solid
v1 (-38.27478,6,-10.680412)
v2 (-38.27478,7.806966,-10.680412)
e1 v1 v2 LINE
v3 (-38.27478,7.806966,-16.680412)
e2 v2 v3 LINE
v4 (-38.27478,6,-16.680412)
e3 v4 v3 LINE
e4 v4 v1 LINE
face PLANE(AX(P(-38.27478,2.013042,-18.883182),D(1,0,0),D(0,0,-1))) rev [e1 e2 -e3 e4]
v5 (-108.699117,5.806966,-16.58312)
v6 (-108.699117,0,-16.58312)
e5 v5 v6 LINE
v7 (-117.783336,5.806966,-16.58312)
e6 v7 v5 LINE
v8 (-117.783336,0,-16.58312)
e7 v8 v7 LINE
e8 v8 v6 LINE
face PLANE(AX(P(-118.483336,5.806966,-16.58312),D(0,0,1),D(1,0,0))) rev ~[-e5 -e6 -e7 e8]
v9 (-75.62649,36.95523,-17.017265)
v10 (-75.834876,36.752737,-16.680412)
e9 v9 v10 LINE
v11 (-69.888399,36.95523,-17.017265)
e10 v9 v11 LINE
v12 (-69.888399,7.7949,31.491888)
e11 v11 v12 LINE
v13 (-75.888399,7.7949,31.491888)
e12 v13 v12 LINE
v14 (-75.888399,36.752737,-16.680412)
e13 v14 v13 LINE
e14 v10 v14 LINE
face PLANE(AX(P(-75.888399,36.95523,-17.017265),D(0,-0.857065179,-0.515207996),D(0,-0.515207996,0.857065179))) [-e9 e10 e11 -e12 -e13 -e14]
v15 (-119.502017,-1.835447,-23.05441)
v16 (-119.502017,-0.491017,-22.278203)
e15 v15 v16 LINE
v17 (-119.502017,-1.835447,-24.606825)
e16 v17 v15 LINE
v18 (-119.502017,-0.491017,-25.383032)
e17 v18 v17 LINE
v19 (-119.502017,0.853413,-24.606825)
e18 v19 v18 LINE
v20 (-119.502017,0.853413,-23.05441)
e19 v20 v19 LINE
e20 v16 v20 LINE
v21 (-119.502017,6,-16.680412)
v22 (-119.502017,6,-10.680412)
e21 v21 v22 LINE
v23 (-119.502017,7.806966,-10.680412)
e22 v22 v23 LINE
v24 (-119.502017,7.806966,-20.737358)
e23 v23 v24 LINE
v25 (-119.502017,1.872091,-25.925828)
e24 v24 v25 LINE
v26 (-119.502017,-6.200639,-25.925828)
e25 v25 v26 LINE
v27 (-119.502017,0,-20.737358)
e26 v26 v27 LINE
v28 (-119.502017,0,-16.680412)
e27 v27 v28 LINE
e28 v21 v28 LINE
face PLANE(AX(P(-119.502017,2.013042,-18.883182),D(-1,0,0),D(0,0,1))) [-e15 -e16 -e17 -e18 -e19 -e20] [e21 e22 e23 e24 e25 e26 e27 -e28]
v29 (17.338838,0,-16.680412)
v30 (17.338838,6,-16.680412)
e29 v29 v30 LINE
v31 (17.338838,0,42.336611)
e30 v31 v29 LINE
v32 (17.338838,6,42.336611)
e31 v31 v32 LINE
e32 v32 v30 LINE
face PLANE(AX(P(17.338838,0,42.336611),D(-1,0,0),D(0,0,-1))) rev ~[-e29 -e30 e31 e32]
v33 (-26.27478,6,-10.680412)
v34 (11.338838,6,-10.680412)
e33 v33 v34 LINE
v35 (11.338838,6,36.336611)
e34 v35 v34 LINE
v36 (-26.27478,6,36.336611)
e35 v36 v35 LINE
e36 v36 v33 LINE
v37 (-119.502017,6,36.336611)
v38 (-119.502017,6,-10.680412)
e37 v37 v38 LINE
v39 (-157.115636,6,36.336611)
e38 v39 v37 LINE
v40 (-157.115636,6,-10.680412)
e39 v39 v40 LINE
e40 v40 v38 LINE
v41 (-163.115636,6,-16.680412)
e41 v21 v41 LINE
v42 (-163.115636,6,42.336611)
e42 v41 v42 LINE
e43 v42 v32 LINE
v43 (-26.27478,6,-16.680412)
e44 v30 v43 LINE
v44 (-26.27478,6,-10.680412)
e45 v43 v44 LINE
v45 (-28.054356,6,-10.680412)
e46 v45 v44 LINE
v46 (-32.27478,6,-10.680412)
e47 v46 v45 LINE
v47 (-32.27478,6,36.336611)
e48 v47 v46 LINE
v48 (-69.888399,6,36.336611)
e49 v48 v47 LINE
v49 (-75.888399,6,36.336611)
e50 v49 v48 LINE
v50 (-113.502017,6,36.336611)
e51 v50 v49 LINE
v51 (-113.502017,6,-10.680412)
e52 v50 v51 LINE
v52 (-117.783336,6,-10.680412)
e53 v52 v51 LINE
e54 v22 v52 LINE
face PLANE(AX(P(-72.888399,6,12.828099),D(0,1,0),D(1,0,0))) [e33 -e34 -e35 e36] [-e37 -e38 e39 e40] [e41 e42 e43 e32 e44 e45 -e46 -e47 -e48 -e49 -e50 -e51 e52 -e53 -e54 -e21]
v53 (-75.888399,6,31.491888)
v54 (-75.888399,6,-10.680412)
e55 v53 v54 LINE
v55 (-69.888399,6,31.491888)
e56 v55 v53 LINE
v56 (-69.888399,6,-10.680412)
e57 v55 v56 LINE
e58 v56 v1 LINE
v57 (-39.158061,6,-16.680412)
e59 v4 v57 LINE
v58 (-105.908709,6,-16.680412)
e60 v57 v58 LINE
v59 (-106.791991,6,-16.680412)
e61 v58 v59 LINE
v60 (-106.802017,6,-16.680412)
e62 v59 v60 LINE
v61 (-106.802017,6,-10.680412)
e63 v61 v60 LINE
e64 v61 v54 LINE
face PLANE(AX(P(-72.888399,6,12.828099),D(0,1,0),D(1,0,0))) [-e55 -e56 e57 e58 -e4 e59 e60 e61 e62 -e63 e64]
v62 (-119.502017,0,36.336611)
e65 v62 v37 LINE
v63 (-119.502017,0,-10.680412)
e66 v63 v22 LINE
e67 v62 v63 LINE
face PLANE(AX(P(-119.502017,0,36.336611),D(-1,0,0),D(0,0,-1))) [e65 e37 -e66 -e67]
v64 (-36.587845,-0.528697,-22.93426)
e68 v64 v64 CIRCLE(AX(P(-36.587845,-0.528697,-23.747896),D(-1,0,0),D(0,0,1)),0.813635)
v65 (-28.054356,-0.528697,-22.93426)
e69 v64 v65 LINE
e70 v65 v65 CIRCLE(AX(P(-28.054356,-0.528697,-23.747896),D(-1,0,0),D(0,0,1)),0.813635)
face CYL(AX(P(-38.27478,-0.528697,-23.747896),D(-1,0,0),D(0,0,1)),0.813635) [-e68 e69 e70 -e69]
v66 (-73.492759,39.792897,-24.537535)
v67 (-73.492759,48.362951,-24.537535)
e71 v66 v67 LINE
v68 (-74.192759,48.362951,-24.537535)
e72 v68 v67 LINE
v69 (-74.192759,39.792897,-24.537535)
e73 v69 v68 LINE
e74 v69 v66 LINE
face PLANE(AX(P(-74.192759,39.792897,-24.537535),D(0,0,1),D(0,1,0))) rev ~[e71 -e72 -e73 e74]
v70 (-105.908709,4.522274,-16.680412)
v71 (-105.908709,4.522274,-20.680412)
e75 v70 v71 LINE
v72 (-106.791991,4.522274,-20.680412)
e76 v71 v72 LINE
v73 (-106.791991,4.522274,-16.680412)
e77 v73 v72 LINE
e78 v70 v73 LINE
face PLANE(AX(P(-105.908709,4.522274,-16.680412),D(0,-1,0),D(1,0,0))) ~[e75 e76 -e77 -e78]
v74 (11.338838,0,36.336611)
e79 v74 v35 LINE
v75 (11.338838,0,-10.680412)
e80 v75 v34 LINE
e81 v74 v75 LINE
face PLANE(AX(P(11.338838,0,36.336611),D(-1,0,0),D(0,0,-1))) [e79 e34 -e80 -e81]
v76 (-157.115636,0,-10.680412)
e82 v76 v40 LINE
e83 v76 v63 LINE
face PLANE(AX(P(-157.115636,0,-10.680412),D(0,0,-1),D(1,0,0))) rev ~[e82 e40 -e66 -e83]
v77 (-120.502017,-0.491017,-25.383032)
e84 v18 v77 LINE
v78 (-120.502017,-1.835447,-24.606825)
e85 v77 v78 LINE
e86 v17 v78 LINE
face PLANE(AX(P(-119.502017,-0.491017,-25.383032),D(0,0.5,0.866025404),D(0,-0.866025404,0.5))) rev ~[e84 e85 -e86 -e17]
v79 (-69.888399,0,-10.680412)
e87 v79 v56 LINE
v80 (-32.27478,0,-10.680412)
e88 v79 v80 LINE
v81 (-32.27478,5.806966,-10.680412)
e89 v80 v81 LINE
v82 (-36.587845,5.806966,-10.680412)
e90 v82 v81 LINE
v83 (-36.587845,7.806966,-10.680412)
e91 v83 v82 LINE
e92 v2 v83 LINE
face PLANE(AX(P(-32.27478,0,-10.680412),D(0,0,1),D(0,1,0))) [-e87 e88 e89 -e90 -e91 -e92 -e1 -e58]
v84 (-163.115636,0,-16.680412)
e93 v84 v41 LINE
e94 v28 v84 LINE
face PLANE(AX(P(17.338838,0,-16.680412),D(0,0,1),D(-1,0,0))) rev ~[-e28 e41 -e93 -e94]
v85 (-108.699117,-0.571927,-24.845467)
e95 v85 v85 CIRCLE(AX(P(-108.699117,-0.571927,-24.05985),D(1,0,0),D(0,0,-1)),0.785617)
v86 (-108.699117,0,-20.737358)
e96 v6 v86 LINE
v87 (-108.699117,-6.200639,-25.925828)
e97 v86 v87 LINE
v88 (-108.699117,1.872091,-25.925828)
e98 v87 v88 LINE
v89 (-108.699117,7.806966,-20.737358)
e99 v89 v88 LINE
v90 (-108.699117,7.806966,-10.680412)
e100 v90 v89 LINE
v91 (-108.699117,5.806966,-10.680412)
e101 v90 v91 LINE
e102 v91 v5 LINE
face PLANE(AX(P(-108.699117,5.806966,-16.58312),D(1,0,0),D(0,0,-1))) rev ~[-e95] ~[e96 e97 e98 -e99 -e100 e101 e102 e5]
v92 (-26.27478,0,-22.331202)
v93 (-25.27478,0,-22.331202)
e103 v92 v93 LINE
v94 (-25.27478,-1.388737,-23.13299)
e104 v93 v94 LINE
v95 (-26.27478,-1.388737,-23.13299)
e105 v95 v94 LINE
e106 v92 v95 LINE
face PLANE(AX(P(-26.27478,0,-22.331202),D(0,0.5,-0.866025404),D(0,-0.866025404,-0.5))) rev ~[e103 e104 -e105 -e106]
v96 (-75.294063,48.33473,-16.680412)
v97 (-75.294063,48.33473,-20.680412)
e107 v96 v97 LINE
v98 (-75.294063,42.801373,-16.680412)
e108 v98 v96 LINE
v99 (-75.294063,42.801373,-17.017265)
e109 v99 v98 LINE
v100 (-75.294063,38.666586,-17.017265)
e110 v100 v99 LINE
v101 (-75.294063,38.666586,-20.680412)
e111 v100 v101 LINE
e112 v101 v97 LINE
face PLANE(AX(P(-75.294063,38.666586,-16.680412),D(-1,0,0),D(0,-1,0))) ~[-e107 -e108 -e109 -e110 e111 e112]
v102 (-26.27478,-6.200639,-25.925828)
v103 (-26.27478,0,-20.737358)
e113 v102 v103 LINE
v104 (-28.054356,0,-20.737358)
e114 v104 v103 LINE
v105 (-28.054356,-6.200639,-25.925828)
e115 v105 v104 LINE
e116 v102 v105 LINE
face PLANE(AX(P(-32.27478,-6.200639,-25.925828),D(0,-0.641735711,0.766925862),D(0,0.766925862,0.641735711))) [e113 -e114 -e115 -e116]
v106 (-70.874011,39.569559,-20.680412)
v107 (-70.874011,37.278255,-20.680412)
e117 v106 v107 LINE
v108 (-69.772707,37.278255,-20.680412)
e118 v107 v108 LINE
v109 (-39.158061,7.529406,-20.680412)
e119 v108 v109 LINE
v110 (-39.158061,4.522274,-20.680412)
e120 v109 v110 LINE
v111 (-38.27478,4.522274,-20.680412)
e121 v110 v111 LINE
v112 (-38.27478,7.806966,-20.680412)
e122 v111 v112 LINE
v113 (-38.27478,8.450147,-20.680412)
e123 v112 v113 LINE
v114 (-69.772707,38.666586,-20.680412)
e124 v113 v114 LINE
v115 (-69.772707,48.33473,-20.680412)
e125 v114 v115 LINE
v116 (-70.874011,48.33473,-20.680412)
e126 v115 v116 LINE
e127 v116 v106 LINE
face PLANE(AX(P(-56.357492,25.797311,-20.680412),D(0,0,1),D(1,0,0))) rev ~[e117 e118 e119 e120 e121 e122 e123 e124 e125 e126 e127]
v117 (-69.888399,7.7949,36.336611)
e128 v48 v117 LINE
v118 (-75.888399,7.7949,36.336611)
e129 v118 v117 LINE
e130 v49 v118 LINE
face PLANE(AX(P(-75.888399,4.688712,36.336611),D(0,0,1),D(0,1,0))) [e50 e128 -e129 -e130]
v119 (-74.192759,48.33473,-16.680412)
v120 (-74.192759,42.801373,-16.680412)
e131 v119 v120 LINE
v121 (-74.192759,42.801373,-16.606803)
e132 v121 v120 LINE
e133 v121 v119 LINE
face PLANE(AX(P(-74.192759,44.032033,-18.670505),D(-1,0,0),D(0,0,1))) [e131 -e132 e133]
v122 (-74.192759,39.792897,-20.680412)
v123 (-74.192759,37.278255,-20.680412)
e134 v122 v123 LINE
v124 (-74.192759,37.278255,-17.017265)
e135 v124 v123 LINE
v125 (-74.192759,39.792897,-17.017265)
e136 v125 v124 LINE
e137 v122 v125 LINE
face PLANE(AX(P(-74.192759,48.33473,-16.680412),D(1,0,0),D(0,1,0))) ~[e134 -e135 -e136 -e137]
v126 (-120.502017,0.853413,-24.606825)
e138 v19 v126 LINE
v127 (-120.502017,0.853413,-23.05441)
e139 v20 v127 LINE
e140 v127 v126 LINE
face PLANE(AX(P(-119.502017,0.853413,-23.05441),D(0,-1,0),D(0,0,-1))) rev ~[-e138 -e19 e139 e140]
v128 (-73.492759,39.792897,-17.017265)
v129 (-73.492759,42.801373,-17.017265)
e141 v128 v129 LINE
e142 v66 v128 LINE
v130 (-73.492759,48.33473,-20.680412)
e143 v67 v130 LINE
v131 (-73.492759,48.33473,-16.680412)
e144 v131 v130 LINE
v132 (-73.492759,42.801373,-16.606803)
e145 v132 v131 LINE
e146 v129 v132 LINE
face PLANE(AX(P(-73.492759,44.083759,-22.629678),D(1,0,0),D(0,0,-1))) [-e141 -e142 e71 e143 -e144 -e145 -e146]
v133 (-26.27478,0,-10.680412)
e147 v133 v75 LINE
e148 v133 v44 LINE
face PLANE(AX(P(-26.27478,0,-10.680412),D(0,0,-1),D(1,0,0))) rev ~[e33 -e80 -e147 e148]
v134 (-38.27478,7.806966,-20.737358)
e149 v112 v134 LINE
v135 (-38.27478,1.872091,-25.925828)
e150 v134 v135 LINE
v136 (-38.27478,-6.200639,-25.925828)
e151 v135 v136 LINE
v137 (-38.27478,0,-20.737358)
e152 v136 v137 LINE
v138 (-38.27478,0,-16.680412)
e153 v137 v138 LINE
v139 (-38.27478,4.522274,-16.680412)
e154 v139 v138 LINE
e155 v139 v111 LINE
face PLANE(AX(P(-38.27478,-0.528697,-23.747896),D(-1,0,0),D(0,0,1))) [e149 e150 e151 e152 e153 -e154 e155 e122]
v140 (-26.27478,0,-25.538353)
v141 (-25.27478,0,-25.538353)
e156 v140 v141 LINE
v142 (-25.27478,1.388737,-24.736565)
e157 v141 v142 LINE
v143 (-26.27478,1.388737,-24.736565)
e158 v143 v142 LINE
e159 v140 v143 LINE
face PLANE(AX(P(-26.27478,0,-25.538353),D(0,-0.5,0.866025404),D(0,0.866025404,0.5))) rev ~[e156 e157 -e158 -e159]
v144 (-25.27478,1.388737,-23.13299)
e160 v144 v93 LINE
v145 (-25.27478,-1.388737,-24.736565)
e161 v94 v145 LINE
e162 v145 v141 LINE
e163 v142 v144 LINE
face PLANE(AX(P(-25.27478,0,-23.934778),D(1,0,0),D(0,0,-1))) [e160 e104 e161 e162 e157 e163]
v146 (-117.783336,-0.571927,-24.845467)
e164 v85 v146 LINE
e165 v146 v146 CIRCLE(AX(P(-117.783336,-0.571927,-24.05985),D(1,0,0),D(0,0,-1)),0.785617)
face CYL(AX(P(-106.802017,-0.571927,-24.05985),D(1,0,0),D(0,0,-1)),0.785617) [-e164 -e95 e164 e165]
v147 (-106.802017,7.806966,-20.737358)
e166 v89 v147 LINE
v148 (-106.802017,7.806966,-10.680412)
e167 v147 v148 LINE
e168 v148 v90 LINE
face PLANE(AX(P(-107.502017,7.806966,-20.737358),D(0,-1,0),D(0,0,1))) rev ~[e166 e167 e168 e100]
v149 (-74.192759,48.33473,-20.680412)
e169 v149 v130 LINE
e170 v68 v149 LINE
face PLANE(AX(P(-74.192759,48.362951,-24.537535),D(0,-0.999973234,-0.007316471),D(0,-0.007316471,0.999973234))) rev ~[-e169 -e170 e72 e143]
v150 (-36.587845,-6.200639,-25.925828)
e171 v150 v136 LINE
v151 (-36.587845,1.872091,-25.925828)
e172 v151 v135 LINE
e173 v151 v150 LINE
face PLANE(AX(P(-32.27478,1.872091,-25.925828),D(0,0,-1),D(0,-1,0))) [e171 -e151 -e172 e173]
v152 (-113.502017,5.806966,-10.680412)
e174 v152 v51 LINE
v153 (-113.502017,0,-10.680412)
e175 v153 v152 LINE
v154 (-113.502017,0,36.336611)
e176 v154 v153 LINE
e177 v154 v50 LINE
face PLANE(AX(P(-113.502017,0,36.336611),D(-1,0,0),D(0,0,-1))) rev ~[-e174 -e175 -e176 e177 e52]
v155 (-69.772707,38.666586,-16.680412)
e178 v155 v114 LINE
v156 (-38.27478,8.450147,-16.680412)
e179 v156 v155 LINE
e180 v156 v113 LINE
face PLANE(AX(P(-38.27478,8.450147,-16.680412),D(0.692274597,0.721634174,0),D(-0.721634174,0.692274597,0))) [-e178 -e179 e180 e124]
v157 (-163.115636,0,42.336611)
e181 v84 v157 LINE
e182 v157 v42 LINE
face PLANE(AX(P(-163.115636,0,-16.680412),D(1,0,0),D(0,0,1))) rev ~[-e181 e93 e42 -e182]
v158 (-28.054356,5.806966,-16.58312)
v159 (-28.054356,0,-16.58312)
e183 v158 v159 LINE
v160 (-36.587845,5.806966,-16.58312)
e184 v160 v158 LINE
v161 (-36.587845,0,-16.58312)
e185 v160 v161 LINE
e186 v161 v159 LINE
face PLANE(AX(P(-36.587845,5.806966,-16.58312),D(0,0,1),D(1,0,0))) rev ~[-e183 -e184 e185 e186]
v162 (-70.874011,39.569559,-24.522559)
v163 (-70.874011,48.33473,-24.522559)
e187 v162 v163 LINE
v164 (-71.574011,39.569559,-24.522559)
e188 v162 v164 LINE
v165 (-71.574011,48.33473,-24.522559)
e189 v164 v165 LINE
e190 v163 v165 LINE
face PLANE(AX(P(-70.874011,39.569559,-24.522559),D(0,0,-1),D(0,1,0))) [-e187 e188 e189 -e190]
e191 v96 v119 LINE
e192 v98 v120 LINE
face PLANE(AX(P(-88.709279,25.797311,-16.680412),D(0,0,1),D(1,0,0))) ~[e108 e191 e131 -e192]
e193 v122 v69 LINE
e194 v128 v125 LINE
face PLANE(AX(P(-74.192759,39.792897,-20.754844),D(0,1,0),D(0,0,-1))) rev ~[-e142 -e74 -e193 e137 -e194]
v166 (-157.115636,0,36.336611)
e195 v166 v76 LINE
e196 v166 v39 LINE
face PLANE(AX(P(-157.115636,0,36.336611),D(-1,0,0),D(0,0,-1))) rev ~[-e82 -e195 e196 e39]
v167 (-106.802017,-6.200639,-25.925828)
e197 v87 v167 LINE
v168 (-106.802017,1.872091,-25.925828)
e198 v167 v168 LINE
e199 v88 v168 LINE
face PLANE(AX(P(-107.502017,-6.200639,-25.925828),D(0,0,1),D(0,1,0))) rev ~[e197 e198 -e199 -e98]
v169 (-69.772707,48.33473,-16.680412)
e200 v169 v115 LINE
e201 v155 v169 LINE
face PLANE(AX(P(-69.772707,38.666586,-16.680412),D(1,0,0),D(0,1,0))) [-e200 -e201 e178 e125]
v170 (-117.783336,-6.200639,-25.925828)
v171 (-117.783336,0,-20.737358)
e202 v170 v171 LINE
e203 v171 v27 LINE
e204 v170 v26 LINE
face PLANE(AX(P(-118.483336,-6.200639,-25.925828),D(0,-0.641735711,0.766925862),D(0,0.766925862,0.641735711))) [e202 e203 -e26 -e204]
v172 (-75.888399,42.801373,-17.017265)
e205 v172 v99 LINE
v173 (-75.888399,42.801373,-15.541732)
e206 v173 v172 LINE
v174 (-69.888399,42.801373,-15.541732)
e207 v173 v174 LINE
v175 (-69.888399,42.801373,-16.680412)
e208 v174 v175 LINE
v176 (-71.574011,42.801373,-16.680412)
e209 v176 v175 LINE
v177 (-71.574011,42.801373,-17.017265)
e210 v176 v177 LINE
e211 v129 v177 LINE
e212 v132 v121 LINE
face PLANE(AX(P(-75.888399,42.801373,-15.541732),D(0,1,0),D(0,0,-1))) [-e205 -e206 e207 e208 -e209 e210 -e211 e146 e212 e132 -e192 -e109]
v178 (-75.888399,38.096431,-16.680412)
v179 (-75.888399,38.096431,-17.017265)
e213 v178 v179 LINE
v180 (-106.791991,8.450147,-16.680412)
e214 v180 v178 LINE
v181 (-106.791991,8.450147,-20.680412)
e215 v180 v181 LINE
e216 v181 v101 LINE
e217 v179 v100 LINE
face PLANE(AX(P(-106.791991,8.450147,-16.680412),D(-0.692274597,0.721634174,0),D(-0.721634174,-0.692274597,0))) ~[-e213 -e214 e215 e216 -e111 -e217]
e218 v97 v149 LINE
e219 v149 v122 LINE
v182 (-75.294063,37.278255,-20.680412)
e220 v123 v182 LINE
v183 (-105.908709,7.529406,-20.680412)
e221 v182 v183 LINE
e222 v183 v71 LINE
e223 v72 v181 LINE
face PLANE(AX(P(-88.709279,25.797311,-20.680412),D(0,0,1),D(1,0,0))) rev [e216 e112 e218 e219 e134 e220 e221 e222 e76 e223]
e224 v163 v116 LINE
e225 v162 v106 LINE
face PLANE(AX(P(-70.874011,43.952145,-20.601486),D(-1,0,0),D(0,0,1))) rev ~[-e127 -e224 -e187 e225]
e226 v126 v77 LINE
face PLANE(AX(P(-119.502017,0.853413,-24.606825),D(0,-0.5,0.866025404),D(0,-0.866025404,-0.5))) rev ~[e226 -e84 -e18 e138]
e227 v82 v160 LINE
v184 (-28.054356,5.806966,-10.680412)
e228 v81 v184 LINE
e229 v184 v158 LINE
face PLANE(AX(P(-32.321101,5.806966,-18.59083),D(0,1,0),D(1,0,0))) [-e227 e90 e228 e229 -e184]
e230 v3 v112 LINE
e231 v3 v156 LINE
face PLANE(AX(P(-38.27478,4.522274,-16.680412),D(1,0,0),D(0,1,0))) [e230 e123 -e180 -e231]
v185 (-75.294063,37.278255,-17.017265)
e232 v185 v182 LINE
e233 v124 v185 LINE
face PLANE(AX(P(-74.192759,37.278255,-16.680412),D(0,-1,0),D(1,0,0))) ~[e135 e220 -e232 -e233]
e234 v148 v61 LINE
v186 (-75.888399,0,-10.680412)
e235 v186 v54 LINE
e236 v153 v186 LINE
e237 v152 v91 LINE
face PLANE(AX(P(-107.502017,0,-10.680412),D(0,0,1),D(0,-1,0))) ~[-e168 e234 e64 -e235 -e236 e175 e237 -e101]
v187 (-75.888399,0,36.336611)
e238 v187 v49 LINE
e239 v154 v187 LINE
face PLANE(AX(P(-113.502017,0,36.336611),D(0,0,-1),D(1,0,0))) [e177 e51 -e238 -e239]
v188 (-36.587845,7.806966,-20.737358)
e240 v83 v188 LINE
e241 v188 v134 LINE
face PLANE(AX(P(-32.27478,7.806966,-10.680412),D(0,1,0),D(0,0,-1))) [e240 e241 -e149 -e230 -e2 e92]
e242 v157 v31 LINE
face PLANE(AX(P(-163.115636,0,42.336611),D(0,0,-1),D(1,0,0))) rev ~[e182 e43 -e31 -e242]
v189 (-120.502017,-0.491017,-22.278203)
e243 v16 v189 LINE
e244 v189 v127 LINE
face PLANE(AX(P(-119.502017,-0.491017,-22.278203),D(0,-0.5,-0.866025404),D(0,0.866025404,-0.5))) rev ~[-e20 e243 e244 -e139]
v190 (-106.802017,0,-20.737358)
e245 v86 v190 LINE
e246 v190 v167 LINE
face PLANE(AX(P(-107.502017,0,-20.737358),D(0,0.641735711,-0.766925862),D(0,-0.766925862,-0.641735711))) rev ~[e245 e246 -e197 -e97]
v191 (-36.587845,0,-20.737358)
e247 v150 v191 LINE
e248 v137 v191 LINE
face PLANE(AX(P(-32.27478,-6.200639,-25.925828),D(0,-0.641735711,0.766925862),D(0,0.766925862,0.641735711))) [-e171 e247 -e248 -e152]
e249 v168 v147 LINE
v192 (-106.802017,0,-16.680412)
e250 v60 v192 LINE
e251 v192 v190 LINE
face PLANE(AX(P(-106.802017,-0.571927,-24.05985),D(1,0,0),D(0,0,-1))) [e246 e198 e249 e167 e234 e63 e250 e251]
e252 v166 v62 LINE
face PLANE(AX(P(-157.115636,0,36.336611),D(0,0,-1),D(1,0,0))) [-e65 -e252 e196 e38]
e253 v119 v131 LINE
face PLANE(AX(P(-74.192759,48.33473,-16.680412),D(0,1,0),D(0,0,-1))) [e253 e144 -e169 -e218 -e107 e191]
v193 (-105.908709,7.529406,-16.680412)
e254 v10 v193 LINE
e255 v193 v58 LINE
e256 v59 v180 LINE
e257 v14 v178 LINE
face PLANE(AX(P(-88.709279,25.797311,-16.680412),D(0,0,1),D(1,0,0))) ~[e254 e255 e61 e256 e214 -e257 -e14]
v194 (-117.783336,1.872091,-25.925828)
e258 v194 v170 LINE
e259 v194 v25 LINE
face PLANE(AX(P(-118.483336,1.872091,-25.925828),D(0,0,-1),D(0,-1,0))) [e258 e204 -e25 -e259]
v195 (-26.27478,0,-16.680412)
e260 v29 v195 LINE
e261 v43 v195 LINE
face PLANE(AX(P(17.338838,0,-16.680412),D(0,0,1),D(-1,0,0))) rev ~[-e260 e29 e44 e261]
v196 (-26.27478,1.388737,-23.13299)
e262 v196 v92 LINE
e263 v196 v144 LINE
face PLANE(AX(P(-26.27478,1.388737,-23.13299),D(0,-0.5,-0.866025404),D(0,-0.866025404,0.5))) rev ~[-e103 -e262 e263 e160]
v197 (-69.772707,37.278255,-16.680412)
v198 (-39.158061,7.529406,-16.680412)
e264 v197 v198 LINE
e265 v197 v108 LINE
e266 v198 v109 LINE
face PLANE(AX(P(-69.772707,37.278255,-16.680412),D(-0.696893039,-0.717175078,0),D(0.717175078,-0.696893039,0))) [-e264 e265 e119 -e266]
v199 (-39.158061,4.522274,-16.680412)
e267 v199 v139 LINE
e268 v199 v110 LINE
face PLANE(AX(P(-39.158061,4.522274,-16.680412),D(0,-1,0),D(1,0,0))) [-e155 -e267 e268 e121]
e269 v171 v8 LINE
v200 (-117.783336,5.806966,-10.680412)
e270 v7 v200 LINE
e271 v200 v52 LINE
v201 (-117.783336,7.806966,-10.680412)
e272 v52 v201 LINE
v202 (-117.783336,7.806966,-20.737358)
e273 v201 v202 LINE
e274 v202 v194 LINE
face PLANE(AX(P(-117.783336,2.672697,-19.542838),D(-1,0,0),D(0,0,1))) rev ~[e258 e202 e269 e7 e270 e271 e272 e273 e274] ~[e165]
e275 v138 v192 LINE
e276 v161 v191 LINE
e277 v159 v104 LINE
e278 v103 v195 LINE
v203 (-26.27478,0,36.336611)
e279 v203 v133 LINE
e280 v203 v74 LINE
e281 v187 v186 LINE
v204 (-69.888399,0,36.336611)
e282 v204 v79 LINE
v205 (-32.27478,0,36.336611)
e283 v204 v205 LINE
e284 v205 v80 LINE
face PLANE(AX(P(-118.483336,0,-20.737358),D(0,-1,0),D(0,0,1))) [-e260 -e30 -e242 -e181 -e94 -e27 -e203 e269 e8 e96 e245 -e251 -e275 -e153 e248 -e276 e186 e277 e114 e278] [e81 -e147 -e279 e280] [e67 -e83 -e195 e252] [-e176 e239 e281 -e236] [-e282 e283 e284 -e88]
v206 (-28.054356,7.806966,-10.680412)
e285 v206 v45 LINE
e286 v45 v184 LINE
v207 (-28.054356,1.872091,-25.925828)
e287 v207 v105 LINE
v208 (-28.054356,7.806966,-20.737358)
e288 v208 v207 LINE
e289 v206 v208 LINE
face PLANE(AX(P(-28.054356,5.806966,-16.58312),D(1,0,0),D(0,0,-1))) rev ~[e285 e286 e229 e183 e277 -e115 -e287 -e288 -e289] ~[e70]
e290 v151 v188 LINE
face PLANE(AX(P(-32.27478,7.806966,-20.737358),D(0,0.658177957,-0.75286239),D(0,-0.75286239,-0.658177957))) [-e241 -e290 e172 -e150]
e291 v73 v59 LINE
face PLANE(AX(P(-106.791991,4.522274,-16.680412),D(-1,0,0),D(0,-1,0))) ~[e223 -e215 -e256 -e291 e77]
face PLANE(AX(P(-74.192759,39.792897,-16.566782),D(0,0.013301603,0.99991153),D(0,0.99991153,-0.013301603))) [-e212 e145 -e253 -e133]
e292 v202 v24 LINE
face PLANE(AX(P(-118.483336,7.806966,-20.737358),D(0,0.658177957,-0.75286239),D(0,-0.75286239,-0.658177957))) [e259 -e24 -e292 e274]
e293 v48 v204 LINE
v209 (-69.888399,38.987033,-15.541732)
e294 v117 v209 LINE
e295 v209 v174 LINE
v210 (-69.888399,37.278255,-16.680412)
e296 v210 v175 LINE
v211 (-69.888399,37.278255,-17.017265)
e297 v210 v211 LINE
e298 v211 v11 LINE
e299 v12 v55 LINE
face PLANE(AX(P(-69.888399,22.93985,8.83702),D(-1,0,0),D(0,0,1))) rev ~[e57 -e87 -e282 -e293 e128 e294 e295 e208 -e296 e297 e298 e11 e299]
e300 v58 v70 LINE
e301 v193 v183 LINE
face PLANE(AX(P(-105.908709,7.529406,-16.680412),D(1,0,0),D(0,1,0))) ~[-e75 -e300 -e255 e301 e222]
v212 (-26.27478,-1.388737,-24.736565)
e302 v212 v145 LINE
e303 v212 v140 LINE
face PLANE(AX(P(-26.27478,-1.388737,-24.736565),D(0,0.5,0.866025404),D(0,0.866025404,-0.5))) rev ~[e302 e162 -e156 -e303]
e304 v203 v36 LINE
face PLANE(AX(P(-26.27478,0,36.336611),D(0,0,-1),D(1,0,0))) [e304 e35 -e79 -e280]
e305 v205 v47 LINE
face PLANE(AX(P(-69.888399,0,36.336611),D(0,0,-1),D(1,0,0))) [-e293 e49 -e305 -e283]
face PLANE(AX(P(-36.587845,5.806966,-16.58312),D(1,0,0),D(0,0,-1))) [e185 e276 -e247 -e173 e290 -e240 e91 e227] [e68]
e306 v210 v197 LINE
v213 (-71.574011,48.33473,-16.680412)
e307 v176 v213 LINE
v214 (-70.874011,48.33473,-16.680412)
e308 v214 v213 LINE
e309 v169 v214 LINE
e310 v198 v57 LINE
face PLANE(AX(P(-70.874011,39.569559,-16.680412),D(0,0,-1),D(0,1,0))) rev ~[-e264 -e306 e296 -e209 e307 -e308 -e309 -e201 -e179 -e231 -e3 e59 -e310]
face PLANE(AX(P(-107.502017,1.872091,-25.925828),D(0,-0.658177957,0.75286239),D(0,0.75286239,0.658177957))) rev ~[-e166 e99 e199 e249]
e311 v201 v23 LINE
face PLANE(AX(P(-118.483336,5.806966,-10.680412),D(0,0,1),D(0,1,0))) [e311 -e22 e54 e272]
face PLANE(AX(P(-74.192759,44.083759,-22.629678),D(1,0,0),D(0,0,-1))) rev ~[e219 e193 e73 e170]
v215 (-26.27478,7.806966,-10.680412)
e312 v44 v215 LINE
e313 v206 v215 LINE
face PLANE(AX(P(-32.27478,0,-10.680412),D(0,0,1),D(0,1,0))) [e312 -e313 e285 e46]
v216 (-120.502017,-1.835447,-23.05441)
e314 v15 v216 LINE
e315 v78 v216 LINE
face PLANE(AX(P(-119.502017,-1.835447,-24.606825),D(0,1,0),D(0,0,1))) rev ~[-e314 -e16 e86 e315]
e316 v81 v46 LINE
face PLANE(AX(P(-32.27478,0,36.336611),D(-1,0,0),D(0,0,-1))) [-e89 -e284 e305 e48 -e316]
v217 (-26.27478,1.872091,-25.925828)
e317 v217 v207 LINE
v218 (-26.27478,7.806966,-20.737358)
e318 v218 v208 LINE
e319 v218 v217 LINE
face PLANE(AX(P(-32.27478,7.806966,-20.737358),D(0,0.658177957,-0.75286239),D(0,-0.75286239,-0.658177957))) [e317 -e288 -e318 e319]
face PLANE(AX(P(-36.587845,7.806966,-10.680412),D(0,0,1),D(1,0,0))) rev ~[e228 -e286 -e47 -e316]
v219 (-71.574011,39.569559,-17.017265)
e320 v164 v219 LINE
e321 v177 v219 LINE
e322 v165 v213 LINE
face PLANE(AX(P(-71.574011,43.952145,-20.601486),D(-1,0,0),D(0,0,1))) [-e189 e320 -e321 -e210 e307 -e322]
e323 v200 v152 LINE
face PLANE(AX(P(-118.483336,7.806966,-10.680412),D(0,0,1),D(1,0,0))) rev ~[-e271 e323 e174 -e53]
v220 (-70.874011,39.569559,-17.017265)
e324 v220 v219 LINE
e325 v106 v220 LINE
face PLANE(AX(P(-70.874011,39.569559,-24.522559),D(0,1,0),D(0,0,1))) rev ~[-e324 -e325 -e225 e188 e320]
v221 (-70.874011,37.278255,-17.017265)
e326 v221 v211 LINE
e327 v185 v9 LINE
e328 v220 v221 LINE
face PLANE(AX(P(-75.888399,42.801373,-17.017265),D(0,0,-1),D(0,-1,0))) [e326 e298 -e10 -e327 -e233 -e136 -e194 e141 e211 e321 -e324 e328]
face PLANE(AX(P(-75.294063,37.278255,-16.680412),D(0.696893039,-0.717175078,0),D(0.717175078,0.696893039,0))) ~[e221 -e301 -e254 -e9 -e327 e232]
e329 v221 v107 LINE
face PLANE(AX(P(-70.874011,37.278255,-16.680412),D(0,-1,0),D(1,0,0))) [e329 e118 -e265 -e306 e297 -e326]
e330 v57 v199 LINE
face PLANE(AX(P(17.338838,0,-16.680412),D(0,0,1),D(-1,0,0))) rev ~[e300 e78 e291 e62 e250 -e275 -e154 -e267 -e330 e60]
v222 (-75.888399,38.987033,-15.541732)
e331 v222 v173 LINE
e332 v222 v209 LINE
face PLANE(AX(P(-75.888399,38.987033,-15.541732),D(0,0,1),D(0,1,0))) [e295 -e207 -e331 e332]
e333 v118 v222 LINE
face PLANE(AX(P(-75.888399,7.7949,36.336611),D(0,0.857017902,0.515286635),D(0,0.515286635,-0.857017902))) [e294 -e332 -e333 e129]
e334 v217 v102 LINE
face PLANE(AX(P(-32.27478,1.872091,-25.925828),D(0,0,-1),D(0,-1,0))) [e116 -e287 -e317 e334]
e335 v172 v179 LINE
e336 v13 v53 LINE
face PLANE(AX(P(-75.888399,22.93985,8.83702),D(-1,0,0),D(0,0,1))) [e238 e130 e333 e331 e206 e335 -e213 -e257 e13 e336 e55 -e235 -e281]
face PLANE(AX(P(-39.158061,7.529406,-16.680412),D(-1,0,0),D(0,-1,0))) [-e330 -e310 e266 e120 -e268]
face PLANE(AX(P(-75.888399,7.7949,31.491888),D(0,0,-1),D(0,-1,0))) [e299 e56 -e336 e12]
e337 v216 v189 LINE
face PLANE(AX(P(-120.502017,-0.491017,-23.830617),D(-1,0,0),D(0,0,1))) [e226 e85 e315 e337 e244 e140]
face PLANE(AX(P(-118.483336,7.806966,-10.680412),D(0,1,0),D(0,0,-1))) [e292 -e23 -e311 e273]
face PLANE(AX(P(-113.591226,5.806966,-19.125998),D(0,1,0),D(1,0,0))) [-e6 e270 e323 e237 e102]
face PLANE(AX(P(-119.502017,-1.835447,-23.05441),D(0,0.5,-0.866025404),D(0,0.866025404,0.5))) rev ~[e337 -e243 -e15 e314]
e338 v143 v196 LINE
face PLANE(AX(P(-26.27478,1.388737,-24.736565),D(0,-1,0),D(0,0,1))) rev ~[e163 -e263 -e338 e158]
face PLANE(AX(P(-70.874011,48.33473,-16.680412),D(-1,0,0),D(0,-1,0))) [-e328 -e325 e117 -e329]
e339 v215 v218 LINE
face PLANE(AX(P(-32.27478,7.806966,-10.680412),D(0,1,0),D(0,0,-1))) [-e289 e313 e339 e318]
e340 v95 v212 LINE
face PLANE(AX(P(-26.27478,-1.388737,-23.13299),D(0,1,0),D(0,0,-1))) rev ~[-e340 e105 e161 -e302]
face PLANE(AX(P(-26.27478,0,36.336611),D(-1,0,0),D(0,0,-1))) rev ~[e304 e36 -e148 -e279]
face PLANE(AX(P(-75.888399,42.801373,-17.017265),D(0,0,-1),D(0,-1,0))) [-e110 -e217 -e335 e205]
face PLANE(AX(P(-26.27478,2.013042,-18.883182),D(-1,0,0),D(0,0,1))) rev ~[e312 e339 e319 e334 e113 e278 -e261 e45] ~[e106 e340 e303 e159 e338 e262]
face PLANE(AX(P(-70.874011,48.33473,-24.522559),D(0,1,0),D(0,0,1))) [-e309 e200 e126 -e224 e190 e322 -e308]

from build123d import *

# Parameters (mm, degrees)
SKETCH1_W            = 37.613618603
SKETCH1_H            = 47.017023253
SKETCH1_W_2          = 37.613618602
BOSS_EXTRUDE1_DEPTH  = 6
BOSS_EXTRUDE2_DEPTH  = 6
MIRROR3_COPY_1_DEPTH = 6
SKETCH6_W            = 8.533488923
SKETCH6_H            = 15.820834786
CUT_EXTRUDE2_DEPTH   = 2
SKETCH7_W            = 8.533488923
SKETCH7_H            = 10.900786406
CUT_EXTRUDE3_DEPTH   = 16
BOSS_EXTRUDE6_DEPTH  = 4
SKETCH9_W            = 9.784219632
SKETCH9_H            = 16.89117049
CUT_EXTRUDE4_DEPTH   = 2
SKETCH10_W           = 9.784219632
SKETCH10_H           = 11.02968992
CUT_EXTRUDE5_DEPTH   = 15
BOSS_EXTRUDE8_DEPTH  = 0.7
BOSS_EXTRUDE9_DEPTH  = 0.7
SKETCH15_W           = 7.842146402
SKETCH15_H           = 8.765171011
BOSS_EXTRUDE11_DEPTH = 0.7
BOSS_EXTRUDE12_DEPTH = 0.7
BOSS_EXTRUDE13_DEPTH = 0.7
BOSS_EXTRUDE15_DEPTH = 6
BOSS_EXTRUDE16_DEPTH = 1
SKETCH25_R           = 0.785617121
BOSS_EXTRUDE17_DEPTH = 13
BOSS_EXTRUDE18_DEPTH = 1
SKETCH27_R           = 0.813635411
BOSS_EXTRUDE19_DEPTH = 12


with BuildPart() as part:
    # Sketch1 → Boss-Extrude1 (new body)
    with BuildSketch(Plane(origin=(0, 0, 0), x_dir=(1, 0, 0), z_dir=(0, 1, 0))):
        Polygon((-163.115635978, 16.680412456), (-163.115635978, -40.614150466), (-163.115635978, -42.336610797), (17.338838432, -42.336610797), (17.338838432, 16.680412456), (16.48228959, 16.680412456), align=None)
        with Locations((-138.308826677, -12.82809917)):
            Rectangle(SKETCH1_W, SKETCH1_H, mode=Mode.SUBTRACT)
        with Locations((-94.695208074, -12.82809917)):
            Rectangle(SKETCH1_W_2, SKETCH1_H, mode=Mode.SUBTRACT)
        with Locations((-51.081589472, -12.82809917)):
            Rectangle(SKETCH1_W, SKETCH1_H, mode=Mode.SUBTRACT)
        with Locations((-7.467970869, -12.82809917)):
            Rectangle(SKETCH1_W_2, SKETCH1_H, mode=Mode.SUBTRACT)
    extrude(amount=BOSS_EXTRUDE1_DEPTH)

    # Sketch2 → Boss-Extrude2 (add)
    with BuildSketch(Plane.ZY.offset(119.502017375)):
        Polygon((-10.680412456, 6), (-10.680412456, 7.806965874), (-20.737358395, 7.806965874), (-25.925828115, 1.87209116), (-25.925828115, -3.073895358), (-25.925828115, -6.20063921), (-20.737358395, 0), (-16.680412456, 0), (-10.680412456, 0), align=None)
    boss_extrude2 = extrude(amount=-BOSS_EXTRUDE2_DEPTH)

    # Mirror2: Boss-Extrude2 across plane
    add(boss_extrude2.mirror(Plane(origin=(-75.888398773, 6, -10.680412456), x_dir=(0, 0, 1), z_dir=(-1, 0, 0))))

    # Mirror3 copy 1 sketch → Mirror3 copy 1 (add)
    with BuildSketch(Plane.ZY.offset(32.27478017)):
        Polygon((-10.680412456, 6), (-10.680412456, 7.806965874), (-20.737358395, 7.806965874), (-25.925828115, 1.87209116), (-25.925828115, -3.073895358), (-25.925828115, -6.20063921), (-20.737358395, 0), (-16.680412456, 0), (-10.680412456, 0), align=None)
    extrude(amount=-MIRROR3_COPY_1_DEPTH)

    # Mirror4: Boss-Extrude2 across plane
    add(boss_extrude2.mirror(Plane.ZY.offset(113.502017375)))

    # Sketch6 → Cut-Extrude2 (cut)
    with BuildSketch(Plane(origin=(0, 7.806965874, 0), x_dir=(1, 0, 0), z_dir=(0, 1, 0))):
        with Locations((-32.321100626, 18.590829849)):
            Rectangle(SKETCH6_W, SKETCH6_H)
    extrude(amount=-CUT_EXTRUDE2_DEPTH, mode=Mode.SUBTRACT)

    # Sketch7 → Cut-Extrude3 (cut)
    with BuildSketch(Plane(origin=(0, 5.806965874, 0), x_dir=(1, 0, 0), z_dir=(0, 1, 0))):
        with Locations((-32.321100626, 22.033512706)):
            Rectangle(SKETCH7_W, SKETCH7_H)
    extrude(amount=-CUT_EXTRUDE3_DEPTH, mode=Mode.SUBTRACT)

    # Sketch8 → Boss-Extrude6 (add)
    with BuildSketch(Plane(origin=(0, 0, -16.680412456), x_dir=(-1, 0, 0), z_dir=(0, 0, -1))):
        Polygon((38.27478017, 4.522273807), (38.27478017, 8.450147148), (69.772707479, 38.666586062), (69.772707479, 48.334730149), (70.874011488, 48.334730149), (70.874011488, 37.278255422), (69.772707479, 37.278255422), (39.158061482, 7.529405606), (39.158061482, 4.522273807), align=None)
    boss_extrude6 = extrude(amount=BOSS_EXTRUDE6_DEPTH)

    # Sketch9 → Cut-Extrude4 (cut)
    with BuildSketch(Plane(origin=(0, 7.806965874, 0), x_dir=(1, 0, 0), z_dir=(0, 1, 0))):
        with Locations((-113.591226463, 19.125997701)):
            Rectangle(SKETCH9_W, SKETCH9_H)
    extrude(amount=-CUT_EXTRUDE4_DEPTH, mode=Mode.SUBTRACT)

    # Sketch10 → Cut-Extrude5 (cut)
    with BuildSketch(Plane(origin=(0, 5.806965874, 0), x_dir=(1, 0, 0), z_dir=(0, 1, 0))):
        with Locations((-113.591226463, 22.097964463)):
            Rectangle(SKETCH10_W, SKETCH10_H)
    extrude(amount=-CUT_EXTRUDE5_DEPTH, mode=Mode.SUBTRACT)

    # Mirror7: Boss-Extrude6 across plane
    add(boss_extrude6.mirror(Plane(origin=(-72.533385445, 0, 0), x_dir=(0, 0, 1), z_dir=(1, 0, 0))))

    # Sketch12 → Boss-Extrude8 (add)
    with BuildSketch(Plane(origin=(-107.502017375, 0, 0), x_dir=(0, 0, -1), z_dir=(1, 0, 0))):
        Polygon((16.680412456, 6), (16.680412456, 0), (20.737358395, 0), (25.925828115, -6.20063921), (25.925828115, 1.87209116), (20.737358395, 7.806965874), (10.680412456, 7.806965874), (10.680412456, 6), align=None)
    extrude(amount=BOSS_EXTRUDE8_DEPTH)

    # Sketch14 → Boss-Extrude9 (add)
    with BuildSketch(Plane(origin=(-118.483336279, 0, 0), x_dir=(0, 0, -1), z_dir=(1, 0, 0))):
        Polygon((16.583119503, 0), (16.583119503, 5.806965874), (10.680412456, 5.806965874), (10.680412456, 7.806965874), (20.737358395, 7.806965874), (25.925828115, 1.87209116), (25.925828115, -6.20063921), (20.737358395, 0), align=None)
    extrude(amount=BOSS_EXTRUDE9_DEPTH)

    # Sketch15 → Boss-Extrude11 (add)
    with BuildSketch(Plane.ZY.offset(70.874011488)):
        with Locations((-20.601485657, 43.952144644)):
            Rectangle(SKETCH15_W, SKETCH15_H)
    extrude(amount=BOSS_EXTRUDE11_DEPTH)

    # Sketch19 → Boss-Extrude12 (add)
    with BuildSketch(Plane(origin=(-74.192759403, 0, 0), x_dir=(0, 0, -1), z_dir=(1, 0, 0))):
        Polygon((20.680412456, 48.334730149), (20.754843595, 39.792896823), (16.566782326, 39.792896823), (16.680412456, 48.334730149), align=None)
    extrude(amount=BOSS_EXTRUDE12_DEPTH)

    # Sketch21 → Boss-Extrude13 (add)
    with BuildSketch(Plane(origin=(-74.192759403, 0, 0), x_dir=(0, 0, -1), z_dir=(1, 0, 0))):
        Polygon((20.754843595, 39.792896823), (24.537534544, 39.792896823), (24.537534544, 48.362951427), (20.680412456, 48.334730149), align=None)
    extrude(amount=BOSS_EXTRUDE13_DEPTH)

    # Sketch23 → Boss-Extrude15 (add)
    with BuildSketch(Plane.ZY.offset(75.888398773)):
        Polygon((36.336610797, 6), (36.336610797, 7.794899668), (-15.54173244, 38.987033262), (-15.54173244, 42.801373137), (-17.017265085, 42.801373137), (-17.017265085, 38.335404827), (-17.017265085, 36.955229626), (31.491887766, 7.794899668), (31.491887766, 4.688712486), (36.336610797, 4.688712486), align=None)
    extrude(amount=-BOSS_EXTRUDE15_DEPTH)

    # Sketch24 → Boss-Extrude16 (add)
    with BuildSketch(Plane.ZY.offset(119.502017375)):
        Polygon((-22.278203382, -0.491017032), (-23.054410428, 0.85341301), (-24.606824521, 0.85341301), (-25.383031568, -0.491017032), (-24.606824521, -1.835447074), (-23.054410428, -1.835447074), align=None)
    extrude(amount=BOSS_EXTRUDE16_DEPTH)

    # Sketch25 → Boss-Extrude17 (add)
    with BuildSketch(Plane(origin=(-106.802017375, 0, 0), x_dir=(0, 0, -1), z_dir=(1, 0, 0))):
        with Locations((24.059849536, -0.571927467)):
            Circle(SKETCH25_R)
    extrude(amount=-BOSS_EXTRUDE17_DEPTH)

    # Sketch26 → Boss-Extrude18 (add)
    with BuildSketch(Plane(origin=(-26.27478017, 0, 0), x_dir=(0, 0, -1), z_dir=(1, 0, 0))):
        Polygon((25.53835309, 0), (24.736565321, 1.388737154), (23.132989782, 1.388737154), (22.331202013, 0), (23.132989782, -1.388737154), (24.736565321, -1.388737154), align=None)
    extrude(amount=BOSS_EXTRUDE18_DEPTH)

    # Sketch27 → Boss-Extrude19 (add)
    with BuildSketch(Plane.ZY.offset(38.27478017)):
        with Locations((-23.747895792, -0.52869674)):
            Circle(SKETCH27_R)
    extrude(amount=-BOSS_EXTRUDE19_DEPTH)


solid = part.part
